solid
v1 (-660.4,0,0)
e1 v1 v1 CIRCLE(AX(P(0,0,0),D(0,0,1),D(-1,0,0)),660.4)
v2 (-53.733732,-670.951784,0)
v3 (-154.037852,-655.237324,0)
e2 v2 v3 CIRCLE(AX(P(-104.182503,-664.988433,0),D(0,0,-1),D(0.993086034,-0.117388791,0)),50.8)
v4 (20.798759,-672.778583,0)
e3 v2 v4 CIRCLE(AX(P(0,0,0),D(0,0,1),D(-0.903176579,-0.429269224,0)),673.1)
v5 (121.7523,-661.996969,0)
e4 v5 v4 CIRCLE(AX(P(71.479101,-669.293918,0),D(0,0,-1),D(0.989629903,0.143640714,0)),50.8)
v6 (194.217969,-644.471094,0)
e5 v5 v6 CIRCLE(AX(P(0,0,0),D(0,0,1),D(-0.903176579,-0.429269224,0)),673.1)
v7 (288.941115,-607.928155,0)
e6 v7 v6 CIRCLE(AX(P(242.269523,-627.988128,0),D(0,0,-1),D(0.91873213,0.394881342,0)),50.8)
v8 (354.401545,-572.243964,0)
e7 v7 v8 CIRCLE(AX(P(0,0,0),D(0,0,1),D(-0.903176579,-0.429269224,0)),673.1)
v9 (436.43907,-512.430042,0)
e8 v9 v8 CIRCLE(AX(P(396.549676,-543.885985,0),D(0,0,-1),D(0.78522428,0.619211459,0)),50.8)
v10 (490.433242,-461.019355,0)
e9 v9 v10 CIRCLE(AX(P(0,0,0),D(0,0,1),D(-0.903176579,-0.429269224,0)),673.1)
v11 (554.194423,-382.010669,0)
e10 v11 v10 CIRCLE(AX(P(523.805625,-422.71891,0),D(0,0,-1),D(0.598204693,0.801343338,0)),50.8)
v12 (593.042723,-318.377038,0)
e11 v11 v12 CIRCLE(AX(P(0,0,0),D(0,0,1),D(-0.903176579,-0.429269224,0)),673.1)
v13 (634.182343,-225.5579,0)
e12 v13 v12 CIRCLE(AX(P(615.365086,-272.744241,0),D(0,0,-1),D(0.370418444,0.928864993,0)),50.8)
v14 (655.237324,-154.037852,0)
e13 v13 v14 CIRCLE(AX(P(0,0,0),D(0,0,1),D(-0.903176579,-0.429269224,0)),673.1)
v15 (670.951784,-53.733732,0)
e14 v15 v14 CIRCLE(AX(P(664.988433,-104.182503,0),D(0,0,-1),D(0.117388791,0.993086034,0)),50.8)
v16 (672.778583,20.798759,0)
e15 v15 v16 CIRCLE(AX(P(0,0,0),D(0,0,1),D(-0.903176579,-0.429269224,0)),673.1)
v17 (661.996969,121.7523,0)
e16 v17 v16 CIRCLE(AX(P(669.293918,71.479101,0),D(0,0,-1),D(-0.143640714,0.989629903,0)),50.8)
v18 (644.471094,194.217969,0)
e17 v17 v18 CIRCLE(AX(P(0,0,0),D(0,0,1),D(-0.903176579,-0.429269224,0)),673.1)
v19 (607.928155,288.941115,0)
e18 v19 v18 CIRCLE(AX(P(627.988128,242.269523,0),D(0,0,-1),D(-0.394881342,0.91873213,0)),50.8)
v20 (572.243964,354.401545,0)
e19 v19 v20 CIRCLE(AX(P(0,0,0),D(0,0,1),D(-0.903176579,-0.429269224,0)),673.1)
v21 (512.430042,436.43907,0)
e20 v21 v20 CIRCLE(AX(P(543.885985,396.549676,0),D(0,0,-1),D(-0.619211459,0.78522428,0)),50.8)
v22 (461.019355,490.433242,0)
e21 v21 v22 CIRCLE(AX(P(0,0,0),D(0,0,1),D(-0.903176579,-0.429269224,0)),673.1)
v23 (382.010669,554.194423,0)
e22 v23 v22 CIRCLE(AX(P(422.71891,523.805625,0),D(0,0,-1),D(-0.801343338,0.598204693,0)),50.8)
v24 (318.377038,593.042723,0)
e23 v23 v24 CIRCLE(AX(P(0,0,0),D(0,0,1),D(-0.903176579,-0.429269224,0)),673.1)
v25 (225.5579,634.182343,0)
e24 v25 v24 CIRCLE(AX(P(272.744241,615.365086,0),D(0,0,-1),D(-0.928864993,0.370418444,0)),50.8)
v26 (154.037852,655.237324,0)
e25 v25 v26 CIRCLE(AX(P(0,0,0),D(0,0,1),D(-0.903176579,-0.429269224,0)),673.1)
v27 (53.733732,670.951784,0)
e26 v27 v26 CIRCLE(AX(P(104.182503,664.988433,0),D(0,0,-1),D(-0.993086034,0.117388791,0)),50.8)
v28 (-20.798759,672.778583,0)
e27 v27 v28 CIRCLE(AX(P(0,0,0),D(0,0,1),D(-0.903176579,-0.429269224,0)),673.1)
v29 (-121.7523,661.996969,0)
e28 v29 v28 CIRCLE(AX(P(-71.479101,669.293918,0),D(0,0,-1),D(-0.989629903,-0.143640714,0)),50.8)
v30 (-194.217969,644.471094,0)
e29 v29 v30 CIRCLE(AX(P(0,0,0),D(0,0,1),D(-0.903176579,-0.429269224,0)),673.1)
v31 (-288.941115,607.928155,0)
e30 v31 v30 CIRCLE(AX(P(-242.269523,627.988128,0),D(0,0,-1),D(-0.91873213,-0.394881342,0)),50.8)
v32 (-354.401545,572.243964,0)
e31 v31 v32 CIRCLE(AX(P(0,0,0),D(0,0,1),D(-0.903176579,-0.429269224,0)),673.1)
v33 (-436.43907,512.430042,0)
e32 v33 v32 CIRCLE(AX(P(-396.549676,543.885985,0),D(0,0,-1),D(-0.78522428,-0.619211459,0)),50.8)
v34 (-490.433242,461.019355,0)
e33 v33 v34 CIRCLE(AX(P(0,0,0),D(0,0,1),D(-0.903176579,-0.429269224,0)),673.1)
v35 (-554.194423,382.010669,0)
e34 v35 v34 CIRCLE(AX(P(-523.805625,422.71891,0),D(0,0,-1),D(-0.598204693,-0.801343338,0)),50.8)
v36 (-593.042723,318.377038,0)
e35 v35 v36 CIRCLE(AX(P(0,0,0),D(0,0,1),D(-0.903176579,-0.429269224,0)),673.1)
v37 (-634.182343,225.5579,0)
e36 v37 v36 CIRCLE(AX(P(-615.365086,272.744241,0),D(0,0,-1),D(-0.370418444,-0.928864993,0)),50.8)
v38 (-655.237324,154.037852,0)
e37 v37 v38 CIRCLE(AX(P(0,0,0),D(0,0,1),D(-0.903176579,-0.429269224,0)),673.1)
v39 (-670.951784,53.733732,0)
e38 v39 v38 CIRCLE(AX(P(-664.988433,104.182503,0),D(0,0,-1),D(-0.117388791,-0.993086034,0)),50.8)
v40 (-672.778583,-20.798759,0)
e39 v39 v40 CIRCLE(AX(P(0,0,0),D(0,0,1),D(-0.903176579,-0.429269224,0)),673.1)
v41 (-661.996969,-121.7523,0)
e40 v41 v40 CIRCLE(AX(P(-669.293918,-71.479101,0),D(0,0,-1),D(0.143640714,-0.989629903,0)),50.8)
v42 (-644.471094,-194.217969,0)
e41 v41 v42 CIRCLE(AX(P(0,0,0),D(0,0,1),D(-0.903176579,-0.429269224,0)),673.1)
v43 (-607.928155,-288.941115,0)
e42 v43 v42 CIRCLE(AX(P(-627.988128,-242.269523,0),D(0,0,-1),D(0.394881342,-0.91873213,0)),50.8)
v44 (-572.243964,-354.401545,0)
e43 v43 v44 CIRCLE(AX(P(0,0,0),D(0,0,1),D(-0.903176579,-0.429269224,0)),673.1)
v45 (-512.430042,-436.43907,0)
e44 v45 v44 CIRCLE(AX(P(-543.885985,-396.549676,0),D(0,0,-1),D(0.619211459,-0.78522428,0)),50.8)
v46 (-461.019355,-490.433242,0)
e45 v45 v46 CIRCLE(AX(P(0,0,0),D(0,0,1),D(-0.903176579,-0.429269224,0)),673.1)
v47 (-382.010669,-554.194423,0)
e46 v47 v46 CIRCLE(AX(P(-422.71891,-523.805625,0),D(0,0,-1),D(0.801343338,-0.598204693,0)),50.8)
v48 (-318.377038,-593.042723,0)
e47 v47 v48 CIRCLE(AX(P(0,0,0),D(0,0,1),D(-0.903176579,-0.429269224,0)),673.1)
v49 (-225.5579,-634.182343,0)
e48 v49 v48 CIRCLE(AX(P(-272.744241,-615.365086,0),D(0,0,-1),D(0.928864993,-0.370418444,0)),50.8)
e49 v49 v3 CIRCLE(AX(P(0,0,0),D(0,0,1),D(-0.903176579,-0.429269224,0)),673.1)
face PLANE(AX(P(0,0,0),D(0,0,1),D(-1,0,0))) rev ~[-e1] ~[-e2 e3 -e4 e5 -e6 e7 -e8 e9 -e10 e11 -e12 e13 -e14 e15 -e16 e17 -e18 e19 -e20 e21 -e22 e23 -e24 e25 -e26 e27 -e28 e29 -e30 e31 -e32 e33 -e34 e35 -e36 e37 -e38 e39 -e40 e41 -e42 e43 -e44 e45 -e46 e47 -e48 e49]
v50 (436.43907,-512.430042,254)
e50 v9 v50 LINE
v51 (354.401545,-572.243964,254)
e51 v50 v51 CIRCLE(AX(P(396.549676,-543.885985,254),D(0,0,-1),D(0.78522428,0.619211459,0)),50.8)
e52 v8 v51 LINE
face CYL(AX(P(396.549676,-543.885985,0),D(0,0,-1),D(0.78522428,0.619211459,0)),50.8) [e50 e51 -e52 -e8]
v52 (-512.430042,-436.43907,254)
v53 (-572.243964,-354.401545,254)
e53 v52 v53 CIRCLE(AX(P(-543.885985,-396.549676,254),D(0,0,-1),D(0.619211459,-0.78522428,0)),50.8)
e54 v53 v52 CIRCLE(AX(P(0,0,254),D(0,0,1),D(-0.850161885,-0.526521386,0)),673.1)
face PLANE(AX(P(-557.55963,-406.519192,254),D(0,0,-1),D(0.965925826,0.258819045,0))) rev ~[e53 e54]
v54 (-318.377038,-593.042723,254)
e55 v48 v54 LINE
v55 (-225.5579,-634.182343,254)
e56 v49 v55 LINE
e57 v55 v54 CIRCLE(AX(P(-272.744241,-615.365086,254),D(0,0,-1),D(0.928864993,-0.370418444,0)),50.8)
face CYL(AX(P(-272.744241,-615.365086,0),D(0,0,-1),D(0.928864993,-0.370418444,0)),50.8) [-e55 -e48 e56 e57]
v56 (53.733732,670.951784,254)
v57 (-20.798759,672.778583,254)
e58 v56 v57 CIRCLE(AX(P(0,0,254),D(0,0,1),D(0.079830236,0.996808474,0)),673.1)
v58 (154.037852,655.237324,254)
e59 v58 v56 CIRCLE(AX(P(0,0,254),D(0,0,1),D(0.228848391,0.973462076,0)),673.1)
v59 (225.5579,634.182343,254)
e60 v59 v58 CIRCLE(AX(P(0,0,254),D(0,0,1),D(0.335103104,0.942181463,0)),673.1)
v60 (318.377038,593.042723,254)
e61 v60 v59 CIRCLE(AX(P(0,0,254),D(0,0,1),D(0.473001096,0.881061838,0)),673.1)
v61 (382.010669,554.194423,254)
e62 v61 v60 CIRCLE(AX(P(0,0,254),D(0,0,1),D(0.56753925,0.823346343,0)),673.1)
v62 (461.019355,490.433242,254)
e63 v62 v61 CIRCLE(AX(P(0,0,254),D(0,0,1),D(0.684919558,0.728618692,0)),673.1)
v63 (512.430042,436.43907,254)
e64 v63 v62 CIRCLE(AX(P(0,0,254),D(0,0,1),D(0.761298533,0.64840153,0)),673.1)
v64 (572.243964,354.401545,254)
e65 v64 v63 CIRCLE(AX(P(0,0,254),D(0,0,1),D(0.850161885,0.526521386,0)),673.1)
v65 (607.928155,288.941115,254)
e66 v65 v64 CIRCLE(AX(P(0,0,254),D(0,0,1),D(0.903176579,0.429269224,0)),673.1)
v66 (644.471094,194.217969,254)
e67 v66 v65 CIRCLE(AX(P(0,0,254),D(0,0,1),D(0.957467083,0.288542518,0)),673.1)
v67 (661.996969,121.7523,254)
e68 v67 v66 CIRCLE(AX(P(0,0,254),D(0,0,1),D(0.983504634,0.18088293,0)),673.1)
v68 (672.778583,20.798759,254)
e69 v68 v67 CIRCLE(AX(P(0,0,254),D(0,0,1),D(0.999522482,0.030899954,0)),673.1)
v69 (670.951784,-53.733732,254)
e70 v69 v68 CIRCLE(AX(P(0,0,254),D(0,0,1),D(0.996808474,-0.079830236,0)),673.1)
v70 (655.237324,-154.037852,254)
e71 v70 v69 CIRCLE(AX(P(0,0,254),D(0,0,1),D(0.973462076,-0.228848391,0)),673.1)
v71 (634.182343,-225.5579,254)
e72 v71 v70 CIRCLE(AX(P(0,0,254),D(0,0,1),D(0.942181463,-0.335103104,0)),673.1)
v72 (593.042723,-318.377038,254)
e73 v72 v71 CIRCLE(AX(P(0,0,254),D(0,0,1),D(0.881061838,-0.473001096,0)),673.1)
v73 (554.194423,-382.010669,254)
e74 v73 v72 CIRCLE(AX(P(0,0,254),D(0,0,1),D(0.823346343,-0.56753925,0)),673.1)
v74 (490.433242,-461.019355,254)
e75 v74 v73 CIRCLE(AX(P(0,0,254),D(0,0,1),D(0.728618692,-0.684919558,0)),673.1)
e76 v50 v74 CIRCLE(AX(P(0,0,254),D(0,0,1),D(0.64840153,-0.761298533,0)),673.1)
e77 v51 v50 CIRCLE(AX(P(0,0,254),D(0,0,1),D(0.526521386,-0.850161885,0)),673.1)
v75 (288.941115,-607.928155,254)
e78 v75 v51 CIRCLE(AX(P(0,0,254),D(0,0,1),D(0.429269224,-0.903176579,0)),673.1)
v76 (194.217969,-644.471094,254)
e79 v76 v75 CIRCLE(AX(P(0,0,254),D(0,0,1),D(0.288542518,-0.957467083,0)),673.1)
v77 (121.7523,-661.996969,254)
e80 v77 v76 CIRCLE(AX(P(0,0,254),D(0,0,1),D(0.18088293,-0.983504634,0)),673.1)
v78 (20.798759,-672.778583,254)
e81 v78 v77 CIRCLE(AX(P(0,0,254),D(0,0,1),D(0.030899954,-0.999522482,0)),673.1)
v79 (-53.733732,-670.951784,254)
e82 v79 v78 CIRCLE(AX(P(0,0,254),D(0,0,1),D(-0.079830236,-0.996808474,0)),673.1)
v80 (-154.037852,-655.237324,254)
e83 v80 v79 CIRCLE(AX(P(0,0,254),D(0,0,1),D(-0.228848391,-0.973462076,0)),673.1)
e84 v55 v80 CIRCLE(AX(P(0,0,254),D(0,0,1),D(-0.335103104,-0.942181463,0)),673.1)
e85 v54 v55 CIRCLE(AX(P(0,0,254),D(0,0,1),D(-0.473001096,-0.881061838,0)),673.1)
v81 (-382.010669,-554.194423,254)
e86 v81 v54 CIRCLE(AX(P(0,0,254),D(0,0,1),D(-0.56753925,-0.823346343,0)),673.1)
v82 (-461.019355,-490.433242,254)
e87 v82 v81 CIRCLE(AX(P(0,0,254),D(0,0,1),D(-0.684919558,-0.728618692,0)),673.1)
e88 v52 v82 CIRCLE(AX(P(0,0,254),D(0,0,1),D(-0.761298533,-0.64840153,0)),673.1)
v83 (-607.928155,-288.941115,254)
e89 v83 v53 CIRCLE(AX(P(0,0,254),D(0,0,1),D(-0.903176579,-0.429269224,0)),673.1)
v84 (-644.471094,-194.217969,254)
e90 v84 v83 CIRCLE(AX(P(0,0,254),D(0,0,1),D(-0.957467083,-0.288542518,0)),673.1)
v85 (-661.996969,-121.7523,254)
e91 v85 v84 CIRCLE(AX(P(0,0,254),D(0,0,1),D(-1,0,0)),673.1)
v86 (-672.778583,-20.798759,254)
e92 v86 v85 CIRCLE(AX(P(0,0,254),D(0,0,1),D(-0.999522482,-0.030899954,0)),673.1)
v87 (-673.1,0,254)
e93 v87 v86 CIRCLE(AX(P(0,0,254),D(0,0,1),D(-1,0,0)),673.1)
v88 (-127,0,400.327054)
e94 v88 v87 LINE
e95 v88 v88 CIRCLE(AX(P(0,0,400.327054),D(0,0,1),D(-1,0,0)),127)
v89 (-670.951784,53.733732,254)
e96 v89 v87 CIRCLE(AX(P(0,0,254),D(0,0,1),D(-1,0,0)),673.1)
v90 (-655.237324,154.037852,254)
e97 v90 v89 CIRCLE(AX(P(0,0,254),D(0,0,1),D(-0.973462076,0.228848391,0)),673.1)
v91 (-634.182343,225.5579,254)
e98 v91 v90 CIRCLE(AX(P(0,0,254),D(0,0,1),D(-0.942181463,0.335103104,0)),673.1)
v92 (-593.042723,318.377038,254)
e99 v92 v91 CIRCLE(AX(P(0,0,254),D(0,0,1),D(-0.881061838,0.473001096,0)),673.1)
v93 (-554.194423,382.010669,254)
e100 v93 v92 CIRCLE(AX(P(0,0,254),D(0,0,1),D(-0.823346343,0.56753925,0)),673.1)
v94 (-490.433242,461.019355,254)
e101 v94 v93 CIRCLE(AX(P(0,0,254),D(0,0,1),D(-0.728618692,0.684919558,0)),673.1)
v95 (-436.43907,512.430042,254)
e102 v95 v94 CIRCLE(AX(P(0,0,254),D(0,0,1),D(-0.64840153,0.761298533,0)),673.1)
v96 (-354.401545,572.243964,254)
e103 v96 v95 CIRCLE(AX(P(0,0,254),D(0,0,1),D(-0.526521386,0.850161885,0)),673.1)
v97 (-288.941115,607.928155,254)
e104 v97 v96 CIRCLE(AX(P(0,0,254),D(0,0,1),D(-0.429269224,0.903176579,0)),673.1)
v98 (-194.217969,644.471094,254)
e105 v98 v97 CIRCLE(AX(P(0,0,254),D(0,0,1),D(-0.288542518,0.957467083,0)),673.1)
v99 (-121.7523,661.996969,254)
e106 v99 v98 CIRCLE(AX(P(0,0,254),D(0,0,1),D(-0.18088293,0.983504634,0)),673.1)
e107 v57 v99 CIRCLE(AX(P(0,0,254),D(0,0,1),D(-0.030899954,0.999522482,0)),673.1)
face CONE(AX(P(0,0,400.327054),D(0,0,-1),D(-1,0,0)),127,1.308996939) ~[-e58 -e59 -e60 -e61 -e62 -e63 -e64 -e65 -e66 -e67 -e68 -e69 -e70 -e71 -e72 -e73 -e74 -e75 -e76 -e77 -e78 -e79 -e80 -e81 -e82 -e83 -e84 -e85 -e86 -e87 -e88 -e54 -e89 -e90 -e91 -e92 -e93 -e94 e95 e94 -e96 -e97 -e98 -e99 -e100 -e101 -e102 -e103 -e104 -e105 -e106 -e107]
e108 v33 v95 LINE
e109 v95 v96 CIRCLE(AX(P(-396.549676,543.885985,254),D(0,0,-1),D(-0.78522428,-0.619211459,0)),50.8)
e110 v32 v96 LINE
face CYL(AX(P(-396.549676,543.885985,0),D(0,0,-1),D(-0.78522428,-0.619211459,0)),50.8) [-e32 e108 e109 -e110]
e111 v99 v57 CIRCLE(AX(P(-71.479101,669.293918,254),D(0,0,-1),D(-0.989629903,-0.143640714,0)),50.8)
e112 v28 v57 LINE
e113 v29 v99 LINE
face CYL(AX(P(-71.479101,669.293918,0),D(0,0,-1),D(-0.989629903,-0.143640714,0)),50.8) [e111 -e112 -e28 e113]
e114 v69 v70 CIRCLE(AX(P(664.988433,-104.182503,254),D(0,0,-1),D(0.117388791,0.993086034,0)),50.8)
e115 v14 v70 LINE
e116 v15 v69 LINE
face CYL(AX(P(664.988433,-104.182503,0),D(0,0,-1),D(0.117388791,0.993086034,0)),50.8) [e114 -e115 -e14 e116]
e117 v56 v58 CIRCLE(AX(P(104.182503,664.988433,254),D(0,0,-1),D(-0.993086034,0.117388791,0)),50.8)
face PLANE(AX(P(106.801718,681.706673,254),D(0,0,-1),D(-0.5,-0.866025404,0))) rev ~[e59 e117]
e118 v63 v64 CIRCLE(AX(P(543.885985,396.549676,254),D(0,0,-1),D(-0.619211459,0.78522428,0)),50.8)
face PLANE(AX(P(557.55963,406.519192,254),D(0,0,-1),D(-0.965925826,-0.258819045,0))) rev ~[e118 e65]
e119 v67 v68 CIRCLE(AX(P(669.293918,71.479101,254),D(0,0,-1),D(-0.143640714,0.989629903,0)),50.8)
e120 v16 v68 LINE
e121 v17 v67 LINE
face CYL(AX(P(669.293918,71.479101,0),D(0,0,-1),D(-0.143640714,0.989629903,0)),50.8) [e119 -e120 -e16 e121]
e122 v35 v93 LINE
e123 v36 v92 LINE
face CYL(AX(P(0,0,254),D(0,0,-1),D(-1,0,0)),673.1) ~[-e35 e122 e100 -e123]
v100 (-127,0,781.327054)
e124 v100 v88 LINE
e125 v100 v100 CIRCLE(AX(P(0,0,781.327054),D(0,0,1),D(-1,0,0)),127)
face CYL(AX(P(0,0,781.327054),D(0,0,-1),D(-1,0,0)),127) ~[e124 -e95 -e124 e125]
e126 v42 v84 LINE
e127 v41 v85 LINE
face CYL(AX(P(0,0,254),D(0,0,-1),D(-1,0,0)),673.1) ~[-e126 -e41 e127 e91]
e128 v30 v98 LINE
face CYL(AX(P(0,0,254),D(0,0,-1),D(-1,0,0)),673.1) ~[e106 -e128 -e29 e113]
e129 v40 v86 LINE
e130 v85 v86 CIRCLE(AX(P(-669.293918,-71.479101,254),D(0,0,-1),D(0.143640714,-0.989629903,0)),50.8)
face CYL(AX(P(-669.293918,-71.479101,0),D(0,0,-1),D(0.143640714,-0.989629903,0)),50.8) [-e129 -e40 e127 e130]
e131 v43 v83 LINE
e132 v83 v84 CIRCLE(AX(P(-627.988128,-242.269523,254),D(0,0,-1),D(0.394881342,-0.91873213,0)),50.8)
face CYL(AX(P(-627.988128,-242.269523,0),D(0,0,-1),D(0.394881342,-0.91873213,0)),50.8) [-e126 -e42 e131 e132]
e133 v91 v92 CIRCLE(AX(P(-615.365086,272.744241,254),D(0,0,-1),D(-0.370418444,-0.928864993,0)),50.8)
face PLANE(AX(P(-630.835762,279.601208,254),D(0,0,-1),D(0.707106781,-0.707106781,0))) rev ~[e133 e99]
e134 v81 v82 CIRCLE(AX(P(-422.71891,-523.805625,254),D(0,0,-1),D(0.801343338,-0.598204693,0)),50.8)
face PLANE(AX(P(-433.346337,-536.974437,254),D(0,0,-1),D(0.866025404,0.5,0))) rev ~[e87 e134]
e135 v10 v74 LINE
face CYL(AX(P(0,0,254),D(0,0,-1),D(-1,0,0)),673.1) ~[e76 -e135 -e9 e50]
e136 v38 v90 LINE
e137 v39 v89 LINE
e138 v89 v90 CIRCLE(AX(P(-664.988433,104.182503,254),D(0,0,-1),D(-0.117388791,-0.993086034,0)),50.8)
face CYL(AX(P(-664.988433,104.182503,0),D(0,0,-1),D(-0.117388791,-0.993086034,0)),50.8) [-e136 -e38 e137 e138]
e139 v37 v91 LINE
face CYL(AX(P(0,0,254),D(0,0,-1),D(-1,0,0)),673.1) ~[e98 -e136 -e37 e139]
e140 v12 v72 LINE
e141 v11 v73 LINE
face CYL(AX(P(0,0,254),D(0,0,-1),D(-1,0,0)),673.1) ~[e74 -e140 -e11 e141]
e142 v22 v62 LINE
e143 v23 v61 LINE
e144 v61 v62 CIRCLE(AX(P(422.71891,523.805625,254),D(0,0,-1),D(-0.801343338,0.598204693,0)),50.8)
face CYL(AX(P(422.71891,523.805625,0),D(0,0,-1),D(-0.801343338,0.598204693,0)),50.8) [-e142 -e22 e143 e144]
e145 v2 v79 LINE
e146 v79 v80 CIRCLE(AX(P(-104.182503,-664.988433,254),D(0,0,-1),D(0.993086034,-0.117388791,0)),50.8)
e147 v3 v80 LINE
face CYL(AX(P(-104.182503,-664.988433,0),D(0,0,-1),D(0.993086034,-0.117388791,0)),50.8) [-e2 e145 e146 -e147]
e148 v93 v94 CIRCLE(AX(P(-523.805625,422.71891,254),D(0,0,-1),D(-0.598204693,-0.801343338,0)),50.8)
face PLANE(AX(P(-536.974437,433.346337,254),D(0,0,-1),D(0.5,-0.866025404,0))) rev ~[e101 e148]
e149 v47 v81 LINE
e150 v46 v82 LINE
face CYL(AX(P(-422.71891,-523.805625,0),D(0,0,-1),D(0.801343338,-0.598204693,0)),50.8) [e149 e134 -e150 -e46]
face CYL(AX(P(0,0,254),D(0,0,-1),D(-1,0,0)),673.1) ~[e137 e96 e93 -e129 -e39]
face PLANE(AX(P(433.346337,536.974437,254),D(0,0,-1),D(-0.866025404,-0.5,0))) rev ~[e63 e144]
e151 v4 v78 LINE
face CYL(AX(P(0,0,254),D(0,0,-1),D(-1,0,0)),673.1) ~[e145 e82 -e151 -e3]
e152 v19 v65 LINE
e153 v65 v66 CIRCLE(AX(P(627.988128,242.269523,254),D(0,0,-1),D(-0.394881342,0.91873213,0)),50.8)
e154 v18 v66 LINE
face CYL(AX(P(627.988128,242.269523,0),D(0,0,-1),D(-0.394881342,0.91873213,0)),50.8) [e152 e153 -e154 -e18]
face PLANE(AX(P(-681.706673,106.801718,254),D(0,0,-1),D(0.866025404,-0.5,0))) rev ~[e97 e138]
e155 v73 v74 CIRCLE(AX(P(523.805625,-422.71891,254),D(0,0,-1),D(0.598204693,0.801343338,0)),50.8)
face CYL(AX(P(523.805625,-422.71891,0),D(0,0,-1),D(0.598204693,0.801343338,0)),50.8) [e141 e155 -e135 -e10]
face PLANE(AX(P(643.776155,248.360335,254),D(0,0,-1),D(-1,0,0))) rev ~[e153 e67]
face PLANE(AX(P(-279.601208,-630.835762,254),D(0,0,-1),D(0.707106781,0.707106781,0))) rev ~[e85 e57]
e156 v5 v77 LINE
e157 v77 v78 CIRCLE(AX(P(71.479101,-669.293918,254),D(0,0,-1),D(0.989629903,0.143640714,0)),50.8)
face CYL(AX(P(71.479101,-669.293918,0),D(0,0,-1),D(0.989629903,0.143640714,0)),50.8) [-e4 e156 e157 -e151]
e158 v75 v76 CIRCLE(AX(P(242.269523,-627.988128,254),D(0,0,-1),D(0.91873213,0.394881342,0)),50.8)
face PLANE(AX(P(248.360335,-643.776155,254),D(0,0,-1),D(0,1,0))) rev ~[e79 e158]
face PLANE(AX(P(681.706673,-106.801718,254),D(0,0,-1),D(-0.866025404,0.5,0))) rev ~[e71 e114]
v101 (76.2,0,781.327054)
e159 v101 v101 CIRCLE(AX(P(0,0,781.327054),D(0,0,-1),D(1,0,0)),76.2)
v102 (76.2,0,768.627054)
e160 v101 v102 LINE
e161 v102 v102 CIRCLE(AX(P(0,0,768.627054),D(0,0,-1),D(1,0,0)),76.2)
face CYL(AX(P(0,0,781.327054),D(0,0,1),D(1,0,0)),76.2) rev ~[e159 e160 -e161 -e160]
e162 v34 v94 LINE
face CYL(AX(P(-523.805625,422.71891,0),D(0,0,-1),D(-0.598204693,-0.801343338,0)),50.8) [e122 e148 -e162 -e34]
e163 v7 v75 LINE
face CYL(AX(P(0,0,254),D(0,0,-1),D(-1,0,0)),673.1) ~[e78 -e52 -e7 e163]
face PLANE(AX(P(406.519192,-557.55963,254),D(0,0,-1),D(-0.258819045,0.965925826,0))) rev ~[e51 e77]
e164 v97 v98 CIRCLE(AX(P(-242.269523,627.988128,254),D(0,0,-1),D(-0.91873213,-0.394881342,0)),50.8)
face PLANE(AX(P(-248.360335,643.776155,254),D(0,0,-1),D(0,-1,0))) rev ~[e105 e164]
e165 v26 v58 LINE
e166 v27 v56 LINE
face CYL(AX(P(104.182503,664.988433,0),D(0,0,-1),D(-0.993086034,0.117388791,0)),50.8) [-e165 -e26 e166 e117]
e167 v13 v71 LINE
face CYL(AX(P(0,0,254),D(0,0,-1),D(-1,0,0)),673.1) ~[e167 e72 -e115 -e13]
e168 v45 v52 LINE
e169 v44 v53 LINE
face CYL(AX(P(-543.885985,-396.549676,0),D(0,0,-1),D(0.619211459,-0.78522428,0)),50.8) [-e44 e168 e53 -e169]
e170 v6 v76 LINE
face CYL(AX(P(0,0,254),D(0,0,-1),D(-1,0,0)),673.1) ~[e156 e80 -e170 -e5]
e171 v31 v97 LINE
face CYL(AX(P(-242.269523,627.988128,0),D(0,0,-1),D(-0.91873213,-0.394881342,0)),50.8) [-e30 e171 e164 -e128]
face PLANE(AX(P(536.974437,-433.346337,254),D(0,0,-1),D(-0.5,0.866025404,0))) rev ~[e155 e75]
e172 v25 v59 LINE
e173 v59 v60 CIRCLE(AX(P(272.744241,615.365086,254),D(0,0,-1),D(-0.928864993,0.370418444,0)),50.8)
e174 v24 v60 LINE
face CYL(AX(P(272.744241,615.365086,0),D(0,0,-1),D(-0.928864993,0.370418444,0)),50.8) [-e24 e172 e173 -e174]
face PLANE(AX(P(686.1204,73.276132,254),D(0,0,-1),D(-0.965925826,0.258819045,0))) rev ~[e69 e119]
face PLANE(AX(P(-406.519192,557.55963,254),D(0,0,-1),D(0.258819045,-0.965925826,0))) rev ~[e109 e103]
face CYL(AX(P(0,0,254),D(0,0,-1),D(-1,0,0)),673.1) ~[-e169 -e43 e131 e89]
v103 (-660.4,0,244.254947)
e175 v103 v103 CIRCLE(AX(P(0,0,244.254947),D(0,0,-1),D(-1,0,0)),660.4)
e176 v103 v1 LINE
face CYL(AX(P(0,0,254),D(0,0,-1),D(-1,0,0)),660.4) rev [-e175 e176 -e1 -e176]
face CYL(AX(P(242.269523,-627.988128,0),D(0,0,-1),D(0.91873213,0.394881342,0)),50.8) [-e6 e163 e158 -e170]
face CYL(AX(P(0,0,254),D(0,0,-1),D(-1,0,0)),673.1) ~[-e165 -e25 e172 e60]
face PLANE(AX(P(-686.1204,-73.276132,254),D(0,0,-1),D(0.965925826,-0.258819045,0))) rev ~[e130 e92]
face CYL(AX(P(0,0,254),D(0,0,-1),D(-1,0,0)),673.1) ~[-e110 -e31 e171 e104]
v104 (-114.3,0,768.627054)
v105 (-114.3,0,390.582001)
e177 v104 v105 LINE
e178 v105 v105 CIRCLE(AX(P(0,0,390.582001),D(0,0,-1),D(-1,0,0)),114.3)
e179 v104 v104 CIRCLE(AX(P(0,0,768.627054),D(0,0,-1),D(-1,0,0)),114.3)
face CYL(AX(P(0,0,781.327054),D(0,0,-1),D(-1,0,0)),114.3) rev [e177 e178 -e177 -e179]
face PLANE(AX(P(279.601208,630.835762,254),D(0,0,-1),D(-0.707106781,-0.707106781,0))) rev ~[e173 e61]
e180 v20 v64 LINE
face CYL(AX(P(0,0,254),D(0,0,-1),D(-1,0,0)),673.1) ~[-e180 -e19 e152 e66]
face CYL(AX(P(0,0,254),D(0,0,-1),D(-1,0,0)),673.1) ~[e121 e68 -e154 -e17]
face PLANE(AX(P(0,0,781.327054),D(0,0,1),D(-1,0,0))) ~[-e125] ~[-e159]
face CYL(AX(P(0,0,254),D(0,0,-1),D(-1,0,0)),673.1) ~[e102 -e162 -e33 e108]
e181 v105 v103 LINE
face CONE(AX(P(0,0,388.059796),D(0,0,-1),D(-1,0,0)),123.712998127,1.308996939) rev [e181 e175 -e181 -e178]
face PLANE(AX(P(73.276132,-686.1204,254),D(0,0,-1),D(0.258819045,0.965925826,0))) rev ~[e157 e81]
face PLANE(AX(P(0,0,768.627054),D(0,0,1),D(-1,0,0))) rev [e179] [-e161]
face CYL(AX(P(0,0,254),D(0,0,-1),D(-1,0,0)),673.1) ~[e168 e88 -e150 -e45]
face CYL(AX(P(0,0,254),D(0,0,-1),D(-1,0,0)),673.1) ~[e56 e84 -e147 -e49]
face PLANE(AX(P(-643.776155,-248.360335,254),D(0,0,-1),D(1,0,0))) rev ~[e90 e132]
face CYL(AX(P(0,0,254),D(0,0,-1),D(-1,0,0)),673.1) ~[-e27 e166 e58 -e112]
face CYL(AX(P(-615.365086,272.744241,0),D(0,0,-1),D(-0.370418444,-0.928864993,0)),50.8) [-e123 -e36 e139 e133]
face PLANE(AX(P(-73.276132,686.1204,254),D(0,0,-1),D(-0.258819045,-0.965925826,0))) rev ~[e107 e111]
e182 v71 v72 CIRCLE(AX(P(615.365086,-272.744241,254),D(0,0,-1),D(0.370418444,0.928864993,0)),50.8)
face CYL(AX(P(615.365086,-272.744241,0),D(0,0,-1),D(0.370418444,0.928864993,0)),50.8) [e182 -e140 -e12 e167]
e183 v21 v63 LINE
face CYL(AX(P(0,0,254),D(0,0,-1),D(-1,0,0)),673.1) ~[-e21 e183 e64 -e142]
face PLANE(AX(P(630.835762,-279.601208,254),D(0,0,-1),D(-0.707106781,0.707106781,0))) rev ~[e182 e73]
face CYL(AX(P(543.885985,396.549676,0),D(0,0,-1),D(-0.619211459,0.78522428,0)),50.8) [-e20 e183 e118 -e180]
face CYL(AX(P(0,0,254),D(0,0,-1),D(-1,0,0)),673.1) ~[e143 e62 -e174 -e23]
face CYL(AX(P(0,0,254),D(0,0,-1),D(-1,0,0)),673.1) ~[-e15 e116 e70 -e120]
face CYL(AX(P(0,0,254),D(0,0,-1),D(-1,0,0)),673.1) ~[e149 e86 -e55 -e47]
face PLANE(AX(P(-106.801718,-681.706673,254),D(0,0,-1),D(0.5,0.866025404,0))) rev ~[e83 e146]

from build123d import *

# Parameters (mm, degrees)
F2_T     = -12.7
F3_R     = 76.2
F4_DEPTH = 781.3280539866
F6_DEPTH = 254
F7_COUNT = 24


with BuildPart() as f1:
    # F0 (on Front) → F1 (revolve)
    with BuildSketch(Plane.XZ):
        Polygon((-673.1, 0), (0, 0), (0, 781.3270539866), (-127, 781.3270539866), (-127, 400.3270539866), (-673.1, 254), align=None)
    revolve(axis=Axis((0, 0, 573.1903910637), (0, 0, 1)))

    # F2
    f2_openings = [f1.faces().sort_by_distance(p)[0] for p in [
        (0, 0, 0),
    ]]
    offset(amount=F2_T, openings=f2_openings, kind=Kind.INTERSECTION)

    # F3 (on face) → F4 (cut, through all)
    with BuildSketch(Plane.XY.offset(781.3270539866)):
        Circle(F3_R)
    extrude(amount=-F4_DEPTH, mode=Mode.SUBTRACT)

    # F5 (on face) → F6 (join)
    with BuildSketch(Plane(origin=(0, 0, 0), x_dir=(1, 0, 0), z_dir=(0, 0, -1))):
        with BuildLine():
            ThreePointArc((-644.4710936979, 194.2179687564), (-627.9881276024, 242.2695226199), (-607.9281554401, 288.9411148024))
            ThreePointArc((-607.9281554401, 288.9411148024), (-675.3834579875, 260.5540148931), (-644.4710936979, 194.2179687564))
        make_face()
    extrude(amount=-F6_DEPTH)

    # F7: F1 ×24 about axis
    f7_axis = Axis((0, 0, 768.6270539866), (0, 0, 1))


with BuildPart() as f1_1:
    add(f1.part)
    for i in range(1, F7_COUNT):
        add(f1.part.rotate(f7_axis, i * 360 / F7_COUNT))


solid = f1_1.part
